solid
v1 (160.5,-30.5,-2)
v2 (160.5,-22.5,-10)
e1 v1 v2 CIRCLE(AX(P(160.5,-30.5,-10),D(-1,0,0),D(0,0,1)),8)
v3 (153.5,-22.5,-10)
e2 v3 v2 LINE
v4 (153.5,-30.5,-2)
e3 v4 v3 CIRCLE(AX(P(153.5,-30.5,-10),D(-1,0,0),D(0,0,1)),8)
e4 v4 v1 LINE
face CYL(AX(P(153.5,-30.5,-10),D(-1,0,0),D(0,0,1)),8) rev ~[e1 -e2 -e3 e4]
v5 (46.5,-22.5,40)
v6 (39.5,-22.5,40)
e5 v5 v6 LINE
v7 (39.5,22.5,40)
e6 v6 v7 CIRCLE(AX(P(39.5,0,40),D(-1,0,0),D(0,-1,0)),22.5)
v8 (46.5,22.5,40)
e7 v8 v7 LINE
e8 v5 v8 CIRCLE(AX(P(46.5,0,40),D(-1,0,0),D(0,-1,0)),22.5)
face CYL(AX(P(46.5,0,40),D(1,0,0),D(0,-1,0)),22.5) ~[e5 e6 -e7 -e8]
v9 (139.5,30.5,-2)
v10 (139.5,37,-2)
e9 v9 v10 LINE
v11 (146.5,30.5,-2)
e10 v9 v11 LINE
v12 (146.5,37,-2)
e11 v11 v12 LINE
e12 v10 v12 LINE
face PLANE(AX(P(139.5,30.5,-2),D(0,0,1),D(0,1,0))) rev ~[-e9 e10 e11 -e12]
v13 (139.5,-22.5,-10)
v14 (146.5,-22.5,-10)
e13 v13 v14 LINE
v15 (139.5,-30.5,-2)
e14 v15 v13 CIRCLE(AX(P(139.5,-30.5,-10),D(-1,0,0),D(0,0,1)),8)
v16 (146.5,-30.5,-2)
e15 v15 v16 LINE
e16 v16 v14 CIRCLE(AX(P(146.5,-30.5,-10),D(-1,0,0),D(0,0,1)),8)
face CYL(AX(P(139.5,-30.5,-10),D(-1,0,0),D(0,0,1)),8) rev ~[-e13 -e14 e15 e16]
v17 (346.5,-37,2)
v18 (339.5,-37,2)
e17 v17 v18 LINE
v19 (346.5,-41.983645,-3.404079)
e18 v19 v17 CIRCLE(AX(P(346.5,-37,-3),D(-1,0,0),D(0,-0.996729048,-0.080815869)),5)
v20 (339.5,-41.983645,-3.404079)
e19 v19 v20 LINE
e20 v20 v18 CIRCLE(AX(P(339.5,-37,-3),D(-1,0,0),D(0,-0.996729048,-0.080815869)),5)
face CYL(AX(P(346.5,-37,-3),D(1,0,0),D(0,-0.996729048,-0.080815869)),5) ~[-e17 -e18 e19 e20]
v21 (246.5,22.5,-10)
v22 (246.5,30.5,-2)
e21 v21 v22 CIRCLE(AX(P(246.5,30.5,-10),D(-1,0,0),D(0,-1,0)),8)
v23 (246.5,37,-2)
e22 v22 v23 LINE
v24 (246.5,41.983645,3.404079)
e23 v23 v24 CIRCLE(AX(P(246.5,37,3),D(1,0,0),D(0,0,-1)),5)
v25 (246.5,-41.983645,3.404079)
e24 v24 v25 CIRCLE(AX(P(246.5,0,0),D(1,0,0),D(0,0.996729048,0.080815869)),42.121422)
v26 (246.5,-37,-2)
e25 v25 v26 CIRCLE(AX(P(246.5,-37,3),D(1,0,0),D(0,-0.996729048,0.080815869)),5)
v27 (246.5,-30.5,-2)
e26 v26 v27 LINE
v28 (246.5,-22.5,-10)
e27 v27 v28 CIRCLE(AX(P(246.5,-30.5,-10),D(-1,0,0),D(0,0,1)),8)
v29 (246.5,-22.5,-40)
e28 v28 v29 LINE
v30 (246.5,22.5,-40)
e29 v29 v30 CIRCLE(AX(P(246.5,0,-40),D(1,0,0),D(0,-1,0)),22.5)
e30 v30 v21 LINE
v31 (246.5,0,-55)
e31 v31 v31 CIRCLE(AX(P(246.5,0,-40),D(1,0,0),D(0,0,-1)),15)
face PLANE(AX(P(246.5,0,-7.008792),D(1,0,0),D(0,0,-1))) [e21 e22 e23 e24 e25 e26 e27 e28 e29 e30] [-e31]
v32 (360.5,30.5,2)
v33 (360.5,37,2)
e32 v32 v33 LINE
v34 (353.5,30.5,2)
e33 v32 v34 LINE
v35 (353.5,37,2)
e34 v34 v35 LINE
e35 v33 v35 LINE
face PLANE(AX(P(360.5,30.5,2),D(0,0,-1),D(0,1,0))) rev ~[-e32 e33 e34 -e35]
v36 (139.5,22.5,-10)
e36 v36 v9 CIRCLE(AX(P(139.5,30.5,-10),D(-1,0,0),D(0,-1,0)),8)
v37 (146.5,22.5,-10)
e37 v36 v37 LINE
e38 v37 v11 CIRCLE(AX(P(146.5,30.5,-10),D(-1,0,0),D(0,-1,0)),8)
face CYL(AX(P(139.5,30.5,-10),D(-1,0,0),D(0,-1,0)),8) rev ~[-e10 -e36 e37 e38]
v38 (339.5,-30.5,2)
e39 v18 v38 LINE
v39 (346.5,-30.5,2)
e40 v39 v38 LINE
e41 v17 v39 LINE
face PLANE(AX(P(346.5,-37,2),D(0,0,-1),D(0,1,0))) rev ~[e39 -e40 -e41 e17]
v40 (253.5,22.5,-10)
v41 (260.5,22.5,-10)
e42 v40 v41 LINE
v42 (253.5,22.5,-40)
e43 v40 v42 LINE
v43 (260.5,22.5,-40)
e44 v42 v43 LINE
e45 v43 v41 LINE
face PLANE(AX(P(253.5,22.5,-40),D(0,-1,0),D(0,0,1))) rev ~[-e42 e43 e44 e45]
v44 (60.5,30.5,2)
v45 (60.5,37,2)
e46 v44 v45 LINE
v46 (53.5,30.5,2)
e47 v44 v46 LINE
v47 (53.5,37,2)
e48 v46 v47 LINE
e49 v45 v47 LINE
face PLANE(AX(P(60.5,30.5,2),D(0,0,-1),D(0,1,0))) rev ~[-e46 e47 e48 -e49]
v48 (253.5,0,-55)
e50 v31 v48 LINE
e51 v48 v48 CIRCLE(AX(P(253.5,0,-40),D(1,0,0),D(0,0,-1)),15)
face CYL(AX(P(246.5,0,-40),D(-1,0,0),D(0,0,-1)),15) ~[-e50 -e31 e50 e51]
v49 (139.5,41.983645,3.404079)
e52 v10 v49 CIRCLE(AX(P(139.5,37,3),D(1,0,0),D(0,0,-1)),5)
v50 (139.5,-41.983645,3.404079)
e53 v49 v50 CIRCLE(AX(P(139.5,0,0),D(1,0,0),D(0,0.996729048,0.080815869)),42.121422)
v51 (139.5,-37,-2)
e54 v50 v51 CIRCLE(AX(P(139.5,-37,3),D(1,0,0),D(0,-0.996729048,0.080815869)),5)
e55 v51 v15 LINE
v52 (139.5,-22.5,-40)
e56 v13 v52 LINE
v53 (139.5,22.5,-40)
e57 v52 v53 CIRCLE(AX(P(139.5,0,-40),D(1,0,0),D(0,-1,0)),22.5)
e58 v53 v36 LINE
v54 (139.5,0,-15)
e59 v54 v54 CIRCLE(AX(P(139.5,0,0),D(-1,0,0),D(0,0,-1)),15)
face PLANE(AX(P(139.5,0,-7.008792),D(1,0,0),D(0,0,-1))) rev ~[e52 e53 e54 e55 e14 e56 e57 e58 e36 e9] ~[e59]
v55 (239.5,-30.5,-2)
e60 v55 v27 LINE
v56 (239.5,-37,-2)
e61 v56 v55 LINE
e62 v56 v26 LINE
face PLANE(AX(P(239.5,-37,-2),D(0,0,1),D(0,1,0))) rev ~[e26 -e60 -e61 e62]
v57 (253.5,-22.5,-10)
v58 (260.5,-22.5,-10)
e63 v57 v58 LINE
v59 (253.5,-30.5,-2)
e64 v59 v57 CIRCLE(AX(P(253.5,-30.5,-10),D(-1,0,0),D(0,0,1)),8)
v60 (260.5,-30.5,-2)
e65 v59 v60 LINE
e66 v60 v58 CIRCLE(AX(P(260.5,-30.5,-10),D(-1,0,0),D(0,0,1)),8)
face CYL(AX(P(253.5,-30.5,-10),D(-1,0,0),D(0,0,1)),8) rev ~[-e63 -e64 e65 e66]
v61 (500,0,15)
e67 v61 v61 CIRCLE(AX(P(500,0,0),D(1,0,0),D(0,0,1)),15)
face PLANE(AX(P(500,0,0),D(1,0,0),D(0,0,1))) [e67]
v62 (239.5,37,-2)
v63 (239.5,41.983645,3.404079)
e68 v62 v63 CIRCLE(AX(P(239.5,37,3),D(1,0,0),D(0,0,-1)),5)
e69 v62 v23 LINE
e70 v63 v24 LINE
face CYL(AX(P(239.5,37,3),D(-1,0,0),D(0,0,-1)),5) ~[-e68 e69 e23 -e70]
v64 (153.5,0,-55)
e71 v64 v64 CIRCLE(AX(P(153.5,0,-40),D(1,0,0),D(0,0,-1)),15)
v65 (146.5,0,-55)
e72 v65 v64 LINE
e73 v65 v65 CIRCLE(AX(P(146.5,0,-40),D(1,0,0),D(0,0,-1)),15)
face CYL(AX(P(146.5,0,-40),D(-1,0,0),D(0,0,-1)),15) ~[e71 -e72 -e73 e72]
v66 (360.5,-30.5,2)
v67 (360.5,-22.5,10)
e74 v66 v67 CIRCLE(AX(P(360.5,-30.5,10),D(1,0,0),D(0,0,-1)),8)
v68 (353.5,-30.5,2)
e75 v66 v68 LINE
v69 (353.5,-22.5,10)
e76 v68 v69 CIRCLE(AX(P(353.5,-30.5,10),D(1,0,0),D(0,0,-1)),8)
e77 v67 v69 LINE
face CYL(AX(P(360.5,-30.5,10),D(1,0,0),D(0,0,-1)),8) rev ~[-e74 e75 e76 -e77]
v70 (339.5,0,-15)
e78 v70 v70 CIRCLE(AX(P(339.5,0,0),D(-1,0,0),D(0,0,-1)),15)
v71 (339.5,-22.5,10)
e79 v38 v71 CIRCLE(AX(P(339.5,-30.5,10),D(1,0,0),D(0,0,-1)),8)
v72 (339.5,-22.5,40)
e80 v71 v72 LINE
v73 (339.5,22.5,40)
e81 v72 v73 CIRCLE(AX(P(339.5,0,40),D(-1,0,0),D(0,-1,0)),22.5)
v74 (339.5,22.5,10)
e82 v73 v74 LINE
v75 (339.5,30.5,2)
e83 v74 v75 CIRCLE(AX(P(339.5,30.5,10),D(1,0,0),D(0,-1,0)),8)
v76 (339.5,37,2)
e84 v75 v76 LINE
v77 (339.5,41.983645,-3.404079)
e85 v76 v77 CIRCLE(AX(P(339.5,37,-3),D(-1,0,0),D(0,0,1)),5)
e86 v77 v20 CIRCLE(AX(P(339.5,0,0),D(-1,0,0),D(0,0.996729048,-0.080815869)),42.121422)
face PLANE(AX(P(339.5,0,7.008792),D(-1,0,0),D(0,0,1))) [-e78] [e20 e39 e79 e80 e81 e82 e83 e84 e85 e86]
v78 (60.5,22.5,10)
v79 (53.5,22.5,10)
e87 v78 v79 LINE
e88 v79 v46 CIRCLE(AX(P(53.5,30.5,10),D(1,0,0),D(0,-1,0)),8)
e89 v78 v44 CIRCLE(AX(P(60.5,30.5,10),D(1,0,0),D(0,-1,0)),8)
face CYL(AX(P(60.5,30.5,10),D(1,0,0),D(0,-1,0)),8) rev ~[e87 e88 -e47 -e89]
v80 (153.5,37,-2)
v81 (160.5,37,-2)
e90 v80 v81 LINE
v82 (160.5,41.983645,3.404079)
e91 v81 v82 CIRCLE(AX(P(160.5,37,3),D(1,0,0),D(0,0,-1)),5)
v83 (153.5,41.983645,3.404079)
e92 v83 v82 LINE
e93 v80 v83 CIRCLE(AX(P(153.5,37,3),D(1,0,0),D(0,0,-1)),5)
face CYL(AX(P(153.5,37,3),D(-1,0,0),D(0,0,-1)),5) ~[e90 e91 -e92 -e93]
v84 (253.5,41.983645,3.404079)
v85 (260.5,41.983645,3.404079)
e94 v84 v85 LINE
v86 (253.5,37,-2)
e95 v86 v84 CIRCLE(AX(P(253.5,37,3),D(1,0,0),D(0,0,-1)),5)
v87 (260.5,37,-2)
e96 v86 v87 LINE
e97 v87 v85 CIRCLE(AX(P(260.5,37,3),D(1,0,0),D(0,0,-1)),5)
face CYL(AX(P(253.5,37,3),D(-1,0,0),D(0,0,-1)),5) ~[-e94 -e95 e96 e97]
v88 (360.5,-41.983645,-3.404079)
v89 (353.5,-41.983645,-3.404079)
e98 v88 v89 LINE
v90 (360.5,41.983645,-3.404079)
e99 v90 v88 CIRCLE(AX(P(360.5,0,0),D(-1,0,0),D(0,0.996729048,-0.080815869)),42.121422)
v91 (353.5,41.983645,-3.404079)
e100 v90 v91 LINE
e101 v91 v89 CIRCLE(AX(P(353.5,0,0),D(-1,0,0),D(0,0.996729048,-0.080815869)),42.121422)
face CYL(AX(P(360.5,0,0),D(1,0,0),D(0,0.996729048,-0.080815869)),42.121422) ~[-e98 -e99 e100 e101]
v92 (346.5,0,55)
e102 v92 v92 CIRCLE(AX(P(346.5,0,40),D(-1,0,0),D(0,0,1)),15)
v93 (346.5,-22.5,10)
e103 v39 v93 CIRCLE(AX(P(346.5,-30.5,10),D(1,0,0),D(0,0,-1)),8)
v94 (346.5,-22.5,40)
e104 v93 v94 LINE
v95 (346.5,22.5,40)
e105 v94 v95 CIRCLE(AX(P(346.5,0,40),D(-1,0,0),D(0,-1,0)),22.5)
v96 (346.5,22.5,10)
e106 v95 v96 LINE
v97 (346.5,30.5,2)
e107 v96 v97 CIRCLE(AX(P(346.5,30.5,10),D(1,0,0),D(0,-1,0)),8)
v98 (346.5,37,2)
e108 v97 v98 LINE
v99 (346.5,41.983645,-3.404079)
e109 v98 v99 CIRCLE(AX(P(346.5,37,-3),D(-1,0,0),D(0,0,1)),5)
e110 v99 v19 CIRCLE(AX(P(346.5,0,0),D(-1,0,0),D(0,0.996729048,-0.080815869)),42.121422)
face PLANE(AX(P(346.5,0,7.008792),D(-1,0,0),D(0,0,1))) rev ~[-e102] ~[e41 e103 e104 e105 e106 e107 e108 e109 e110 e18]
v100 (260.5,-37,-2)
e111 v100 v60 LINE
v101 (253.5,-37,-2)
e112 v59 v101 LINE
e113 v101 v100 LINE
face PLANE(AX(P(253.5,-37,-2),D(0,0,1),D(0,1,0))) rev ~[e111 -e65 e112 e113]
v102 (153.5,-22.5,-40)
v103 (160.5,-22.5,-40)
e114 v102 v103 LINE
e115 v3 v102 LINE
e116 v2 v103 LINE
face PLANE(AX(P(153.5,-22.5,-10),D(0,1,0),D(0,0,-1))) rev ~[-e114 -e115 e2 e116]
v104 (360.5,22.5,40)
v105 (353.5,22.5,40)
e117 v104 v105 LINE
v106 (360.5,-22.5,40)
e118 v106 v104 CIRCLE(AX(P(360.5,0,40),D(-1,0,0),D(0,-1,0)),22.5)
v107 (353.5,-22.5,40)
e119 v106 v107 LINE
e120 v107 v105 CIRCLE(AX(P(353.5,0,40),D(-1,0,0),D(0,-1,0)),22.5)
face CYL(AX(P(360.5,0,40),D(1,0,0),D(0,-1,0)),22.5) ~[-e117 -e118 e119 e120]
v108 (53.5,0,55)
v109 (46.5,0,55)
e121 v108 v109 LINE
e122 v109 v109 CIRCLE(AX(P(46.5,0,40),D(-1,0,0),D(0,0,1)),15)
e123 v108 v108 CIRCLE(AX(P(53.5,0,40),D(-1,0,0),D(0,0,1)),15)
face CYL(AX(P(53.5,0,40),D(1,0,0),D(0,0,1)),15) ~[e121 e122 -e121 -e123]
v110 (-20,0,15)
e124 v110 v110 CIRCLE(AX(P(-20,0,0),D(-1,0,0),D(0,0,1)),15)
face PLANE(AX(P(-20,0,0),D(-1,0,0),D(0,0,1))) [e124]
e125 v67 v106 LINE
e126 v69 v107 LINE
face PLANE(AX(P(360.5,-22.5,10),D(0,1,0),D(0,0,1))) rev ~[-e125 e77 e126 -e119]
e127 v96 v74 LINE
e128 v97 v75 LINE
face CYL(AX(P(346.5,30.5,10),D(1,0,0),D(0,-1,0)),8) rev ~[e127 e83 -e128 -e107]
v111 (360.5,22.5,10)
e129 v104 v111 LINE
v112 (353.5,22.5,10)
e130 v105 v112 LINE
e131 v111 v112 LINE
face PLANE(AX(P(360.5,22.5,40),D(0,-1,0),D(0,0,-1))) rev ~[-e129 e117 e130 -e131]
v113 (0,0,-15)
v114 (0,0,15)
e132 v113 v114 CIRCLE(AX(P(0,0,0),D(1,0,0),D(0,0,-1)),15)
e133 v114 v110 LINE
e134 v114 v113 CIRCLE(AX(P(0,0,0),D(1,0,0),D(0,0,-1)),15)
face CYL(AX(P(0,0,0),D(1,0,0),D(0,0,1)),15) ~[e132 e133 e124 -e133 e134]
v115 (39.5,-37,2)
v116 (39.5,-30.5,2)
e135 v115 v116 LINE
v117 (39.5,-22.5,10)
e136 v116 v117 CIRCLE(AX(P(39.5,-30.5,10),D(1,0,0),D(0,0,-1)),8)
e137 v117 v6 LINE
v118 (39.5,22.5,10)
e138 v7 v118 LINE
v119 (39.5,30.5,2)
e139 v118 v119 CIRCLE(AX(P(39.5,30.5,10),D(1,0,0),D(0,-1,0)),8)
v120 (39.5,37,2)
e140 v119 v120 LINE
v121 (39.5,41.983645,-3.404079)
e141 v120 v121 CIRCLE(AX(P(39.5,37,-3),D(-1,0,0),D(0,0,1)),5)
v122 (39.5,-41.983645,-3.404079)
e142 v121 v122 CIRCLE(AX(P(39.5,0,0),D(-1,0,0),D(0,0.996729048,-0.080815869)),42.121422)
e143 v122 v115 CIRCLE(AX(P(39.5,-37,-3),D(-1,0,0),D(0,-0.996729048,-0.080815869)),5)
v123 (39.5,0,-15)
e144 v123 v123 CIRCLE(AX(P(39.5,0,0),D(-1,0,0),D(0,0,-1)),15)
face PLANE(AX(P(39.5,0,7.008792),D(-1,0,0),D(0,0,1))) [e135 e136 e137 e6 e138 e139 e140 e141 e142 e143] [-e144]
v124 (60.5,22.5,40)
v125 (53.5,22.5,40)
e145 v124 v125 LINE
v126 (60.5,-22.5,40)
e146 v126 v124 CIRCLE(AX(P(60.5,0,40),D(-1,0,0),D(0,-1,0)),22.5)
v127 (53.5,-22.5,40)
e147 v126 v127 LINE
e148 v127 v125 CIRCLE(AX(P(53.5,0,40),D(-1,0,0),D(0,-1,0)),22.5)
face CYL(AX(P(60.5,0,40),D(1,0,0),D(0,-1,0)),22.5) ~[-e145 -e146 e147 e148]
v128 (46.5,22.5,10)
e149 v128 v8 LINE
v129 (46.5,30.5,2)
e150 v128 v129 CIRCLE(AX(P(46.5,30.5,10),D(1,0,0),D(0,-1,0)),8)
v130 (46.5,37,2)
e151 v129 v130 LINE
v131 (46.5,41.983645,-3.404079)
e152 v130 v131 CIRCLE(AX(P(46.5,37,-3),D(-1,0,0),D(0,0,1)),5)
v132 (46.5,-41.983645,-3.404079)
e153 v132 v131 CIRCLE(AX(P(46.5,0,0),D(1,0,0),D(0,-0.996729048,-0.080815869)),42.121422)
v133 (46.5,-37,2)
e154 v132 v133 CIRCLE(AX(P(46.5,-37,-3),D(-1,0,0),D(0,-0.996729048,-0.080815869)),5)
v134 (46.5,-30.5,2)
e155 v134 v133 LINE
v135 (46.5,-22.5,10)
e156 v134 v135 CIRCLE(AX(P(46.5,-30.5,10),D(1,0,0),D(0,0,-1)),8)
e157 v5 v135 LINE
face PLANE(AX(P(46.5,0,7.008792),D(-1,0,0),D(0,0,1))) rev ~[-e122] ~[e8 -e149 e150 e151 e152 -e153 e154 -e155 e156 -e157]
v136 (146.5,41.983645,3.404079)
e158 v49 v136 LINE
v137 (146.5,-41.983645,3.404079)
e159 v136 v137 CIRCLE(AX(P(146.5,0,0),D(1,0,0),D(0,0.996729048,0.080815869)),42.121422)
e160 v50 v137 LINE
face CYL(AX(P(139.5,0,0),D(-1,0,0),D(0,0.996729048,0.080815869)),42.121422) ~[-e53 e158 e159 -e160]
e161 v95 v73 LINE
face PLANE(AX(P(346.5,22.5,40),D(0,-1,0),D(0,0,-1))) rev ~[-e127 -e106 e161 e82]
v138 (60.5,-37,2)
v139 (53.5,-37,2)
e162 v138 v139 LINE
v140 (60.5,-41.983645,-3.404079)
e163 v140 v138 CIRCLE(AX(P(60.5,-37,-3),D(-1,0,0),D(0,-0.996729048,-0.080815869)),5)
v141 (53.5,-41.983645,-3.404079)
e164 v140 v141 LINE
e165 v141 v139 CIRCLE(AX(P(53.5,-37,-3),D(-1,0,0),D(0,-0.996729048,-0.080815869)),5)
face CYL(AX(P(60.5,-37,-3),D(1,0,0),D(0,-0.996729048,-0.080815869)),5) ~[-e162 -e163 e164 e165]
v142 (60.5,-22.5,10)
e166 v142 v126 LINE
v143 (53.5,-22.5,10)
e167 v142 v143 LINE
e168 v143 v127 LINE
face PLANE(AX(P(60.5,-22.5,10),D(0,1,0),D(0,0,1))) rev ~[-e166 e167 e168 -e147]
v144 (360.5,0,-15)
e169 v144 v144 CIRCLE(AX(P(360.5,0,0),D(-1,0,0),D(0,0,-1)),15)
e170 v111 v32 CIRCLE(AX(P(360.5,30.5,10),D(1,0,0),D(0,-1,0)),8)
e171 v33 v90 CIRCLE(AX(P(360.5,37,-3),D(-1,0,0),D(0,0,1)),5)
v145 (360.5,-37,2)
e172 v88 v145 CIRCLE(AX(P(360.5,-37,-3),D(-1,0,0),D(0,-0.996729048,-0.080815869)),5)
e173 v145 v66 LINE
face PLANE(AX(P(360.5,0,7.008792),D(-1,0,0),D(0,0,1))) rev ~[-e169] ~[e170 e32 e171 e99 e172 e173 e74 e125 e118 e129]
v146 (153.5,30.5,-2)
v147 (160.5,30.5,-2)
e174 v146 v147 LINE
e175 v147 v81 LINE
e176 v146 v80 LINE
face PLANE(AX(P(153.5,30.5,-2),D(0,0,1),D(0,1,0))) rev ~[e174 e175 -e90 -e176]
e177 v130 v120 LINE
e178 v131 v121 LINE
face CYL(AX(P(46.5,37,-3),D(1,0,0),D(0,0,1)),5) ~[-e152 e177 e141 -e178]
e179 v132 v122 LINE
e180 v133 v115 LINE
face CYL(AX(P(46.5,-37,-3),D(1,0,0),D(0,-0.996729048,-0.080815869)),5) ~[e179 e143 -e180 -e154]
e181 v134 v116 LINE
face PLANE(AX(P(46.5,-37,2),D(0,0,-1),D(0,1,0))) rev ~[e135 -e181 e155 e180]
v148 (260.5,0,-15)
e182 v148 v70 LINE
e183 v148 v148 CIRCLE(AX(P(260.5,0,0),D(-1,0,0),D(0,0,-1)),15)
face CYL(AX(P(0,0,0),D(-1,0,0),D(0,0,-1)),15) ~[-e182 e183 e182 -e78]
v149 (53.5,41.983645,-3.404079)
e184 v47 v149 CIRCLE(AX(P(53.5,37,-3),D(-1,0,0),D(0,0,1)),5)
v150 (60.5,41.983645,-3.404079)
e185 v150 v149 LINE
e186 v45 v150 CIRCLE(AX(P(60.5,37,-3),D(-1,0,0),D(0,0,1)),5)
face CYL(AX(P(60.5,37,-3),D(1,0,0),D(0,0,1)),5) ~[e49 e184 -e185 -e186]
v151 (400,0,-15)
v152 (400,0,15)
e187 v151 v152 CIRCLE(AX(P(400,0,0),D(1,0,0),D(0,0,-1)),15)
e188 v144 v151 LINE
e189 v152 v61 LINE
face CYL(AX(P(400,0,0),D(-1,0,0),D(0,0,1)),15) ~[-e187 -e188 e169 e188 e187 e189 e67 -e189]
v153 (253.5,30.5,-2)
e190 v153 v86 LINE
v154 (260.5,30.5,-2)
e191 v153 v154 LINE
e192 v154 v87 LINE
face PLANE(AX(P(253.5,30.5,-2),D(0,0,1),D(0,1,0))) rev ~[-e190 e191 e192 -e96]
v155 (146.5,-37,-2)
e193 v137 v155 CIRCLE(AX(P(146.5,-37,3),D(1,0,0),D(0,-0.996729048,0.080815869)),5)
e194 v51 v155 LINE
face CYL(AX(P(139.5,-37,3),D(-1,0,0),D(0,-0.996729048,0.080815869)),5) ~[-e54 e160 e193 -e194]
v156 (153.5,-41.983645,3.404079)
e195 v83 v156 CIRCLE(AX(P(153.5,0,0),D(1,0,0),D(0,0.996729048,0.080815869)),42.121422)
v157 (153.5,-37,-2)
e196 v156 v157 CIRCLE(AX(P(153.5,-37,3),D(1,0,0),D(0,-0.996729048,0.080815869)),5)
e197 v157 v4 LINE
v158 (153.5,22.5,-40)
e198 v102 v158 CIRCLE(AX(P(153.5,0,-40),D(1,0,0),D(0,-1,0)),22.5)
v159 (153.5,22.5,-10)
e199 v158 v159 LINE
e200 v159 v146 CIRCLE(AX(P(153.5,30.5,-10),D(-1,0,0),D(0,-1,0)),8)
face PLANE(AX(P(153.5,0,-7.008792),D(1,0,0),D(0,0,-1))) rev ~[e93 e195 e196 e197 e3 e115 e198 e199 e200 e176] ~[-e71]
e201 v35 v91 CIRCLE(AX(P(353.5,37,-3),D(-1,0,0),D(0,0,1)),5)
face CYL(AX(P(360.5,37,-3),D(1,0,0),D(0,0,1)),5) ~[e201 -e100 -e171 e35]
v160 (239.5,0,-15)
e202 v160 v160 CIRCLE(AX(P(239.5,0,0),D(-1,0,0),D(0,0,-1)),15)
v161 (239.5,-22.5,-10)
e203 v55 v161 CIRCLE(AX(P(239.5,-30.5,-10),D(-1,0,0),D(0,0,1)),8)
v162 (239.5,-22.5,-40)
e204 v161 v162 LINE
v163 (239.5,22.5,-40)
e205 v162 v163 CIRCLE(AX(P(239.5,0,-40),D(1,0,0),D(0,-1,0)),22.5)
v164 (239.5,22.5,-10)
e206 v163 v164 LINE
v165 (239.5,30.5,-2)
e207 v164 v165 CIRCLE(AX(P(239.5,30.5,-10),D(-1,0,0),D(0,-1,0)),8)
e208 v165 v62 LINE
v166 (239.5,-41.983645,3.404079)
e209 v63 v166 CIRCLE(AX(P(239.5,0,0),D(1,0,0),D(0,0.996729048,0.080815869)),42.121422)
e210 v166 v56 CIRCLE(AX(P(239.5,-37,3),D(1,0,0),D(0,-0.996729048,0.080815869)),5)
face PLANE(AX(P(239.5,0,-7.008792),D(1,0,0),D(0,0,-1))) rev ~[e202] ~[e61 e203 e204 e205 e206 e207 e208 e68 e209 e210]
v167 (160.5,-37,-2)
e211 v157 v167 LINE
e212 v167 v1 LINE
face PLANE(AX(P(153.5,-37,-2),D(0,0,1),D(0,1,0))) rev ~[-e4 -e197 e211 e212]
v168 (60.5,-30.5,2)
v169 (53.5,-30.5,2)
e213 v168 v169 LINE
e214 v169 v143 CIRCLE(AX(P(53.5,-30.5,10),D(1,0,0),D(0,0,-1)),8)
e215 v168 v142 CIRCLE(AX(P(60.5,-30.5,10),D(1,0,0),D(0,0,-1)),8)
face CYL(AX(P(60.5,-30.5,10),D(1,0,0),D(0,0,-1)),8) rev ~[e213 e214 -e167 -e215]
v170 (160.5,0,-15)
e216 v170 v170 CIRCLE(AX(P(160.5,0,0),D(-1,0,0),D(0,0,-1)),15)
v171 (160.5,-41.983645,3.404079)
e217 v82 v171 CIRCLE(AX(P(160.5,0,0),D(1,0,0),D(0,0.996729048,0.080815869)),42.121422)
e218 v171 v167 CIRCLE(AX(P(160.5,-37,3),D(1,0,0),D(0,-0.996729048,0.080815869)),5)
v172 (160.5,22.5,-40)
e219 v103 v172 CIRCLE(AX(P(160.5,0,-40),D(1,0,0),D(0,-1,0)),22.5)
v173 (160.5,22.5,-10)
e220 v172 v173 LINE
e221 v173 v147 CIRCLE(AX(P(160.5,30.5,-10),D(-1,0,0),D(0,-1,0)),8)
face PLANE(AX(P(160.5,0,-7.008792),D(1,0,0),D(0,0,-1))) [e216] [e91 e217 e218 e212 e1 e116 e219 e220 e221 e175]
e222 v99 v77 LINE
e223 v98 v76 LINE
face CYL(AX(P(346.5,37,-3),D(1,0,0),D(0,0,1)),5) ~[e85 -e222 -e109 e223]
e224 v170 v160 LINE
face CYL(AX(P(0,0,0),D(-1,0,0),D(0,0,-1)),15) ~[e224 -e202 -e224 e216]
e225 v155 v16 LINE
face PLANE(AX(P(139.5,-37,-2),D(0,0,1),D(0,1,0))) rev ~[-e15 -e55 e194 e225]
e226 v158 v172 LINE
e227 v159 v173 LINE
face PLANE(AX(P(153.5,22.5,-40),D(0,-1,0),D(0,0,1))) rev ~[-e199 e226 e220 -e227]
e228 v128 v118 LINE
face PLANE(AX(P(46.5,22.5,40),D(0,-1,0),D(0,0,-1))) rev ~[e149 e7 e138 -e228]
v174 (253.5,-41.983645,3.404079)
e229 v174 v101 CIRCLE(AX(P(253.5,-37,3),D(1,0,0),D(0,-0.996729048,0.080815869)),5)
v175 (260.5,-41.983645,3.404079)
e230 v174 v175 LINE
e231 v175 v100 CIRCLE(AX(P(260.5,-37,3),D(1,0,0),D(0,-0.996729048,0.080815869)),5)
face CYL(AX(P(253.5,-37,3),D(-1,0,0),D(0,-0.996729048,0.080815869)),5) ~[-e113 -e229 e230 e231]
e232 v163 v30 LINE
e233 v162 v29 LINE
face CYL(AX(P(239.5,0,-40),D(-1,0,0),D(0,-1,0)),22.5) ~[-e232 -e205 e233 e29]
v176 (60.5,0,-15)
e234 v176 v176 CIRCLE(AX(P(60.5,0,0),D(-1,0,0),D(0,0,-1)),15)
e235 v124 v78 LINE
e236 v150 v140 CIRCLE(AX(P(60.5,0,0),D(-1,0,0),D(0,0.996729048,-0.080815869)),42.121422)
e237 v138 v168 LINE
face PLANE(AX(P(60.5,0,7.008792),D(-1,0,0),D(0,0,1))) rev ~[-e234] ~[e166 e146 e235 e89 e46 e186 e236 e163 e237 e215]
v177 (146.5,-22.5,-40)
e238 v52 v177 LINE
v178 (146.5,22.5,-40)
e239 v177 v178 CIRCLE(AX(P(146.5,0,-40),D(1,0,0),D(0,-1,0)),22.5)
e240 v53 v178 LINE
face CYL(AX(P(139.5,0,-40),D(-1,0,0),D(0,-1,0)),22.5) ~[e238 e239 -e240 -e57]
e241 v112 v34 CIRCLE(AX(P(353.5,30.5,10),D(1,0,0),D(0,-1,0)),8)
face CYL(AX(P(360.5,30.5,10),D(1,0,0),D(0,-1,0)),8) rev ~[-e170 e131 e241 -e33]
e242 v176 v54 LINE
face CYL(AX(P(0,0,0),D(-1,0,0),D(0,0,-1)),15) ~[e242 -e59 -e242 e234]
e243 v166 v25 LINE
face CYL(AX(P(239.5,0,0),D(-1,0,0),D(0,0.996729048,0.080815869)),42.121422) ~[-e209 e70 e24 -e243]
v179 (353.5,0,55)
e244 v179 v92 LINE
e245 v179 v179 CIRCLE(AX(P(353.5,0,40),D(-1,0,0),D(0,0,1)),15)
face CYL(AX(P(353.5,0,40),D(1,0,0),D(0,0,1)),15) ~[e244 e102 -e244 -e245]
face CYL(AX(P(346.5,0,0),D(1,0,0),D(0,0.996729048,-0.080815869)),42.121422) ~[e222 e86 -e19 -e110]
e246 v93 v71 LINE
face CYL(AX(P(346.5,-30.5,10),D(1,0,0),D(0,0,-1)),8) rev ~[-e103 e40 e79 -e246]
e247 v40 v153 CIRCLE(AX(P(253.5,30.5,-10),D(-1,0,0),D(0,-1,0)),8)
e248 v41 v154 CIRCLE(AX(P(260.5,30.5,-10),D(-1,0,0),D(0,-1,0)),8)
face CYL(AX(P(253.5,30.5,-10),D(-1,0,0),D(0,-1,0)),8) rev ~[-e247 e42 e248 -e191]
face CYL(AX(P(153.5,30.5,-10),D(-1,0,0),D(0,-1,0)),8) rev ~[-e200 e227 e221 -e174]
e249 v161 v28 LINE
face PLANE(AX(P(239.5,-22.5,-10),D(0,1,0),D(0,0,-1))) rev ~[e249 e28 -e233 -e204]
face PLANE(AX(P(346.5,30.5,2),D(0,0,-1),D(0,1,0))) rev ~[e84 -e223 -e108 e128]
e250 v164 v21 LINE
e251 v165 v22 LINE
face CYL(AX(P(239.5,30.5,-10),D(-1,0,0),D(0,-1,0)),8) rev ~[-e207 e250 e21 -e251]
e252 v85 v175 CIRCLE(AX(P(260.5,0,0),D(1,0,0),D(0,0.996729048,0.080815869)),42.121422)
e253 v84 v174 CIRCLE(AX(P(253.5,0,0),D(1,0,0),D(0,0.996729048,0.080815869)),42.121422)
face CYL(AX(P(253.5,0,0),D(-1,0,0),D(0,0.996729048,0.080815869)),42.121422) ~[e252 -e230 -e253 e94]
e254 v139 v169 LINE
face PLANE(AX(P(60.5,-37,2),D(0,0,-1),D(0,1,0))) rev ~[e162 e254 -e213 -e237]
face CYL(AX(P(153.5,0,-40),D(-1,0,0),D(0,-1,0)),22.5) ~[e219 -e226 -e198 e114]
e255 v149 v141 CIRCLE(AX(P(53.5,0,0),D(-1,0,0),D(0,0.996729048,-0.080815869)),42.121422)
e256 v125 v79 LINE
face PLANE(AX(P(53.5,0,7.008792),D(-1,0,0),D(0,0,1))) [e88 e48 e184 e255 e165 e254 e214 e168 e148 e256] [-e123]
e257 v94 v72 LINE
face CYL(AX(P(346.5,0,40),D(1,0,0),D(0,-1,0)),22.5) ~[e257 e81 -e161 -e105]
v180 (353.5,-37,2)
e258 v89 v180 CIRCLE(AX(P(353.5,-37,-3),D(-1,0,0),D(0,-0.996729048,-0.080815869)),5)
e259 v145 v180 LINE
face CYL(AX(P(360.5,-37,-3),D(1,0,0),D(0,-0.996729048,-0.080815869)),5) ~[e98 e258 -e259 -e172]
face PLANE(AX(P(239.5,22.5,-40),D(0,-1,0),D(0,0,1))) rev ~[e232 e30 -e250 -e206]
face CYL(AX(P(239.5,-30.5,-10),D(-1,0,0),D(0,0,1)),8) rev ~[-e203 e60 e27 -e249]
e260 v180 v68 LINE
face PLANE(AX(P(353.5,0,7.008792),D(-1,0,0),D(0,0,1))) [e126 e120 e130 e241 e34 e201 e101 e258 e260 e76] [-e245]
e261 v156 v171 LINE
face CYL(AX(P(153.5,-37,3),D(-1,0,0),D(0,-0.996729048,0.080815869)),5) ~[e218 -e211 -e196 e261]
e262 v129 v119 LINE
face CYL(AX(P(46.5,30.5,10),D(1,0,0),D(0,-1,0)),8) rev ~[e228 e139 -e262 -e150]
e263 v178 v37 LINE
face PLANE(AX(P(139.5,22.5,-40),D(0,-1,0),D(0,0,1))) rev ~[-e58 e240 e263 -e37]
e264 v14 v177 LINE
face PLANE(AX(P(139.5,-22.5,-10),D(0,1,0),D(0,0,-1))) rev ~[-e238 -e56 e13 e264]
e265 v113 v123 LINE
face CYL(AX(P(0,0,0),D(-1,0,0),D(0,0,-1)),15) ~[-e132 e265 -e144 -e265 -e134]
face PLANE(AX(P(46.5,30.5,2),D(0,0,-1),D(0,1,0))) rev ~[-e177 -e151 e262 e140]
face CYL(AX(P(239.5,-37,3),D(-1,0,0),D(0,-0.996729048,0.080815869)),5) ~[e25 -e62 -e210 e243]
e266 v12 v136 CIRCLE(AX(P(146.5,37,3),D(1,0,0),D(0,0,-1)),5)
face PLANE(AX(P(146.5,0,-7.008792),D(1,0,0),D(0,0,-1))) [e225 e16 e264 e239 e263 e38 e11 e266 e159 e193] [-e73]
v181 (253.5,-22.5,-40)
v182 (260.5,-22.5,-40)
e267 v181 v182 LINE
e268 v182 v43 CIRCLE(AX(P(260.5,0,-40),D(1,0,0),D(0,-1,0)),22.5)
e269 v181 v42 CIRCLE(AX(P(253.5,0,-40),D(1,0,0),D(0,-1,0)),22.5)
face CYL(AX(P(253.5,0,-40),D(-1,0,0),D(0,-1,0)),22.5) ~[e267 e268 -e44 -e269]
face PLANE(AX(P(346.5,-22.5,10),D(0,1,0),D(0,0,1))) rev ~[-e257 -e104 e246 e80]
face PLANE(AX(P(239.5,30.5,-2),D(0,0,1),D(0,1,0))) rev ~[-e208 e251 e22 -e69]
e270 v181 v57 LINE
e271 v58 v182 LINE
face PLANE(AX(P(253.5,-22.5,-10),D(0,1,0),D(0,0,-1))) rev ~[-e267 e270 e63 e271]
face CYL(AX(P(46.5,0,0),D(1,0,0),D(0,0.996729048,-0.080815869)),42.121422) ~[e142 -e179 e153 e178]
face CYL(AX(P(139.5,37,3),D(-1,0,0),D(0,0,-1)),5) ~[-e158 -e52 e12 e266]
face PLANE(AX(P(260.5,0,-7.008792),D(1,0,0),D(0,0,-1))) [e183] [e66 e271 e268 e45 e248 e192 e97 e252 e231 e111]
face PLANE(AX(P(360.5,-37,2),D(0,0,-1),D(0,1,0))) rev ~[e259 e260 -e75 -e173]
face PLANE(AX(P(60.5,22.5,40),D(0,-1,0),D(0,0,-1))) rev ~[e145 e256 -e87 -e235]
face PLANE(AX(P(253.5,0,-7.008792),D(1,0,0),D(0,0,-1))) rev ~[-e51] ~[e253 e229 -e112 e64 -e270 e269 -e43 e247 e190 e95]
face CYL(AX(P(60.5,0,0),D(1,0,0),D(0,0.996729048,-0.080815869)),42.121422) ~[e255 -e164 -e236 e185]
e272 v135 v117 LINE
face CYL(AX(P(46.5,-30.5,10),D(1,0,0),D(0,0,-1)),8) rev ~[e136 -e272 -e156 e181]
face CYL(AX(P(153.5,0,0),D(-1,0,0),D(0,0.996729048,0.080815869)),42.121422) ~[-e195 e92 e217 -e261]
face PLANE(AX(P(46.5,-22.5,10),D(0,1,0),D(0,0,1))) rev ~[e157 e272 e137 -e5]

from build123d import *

# Parameters (mm, degrees)
SKETCH1_R               = 15
BOSS_EXTRUDE1_DEPTH     = 400
BOSS_EXTRUDE2_START     = 53.5
BOSS_EXTRUDE2_DEPTH     = 7
BOSS_EXTRUDE3_START     = 39.5
BOSS_EXTRUDE3_DEPTH     = 7
BOSS_EXTRUDE4_START     = 339.5
BOSS_EXTRUDE4_DEPTH     = 7
BOSS_EXTRUDE5_START     = 353.5
BOSS_EXTRUDE5_DEPTH     = 7
CUT_EXTRUDE1_DEPTH      = 60
CUT_EXTRUDE1_DEPTH_BACK = 31
SKETCH5_W               = 7
SKETCH5_H               = 34.934316099
SKETCH5_H_2             = 32.180943616
BOSS_EXTRUDE6_START     = 46.5
SKETCH2_8_R             = 15
BOSS_EXTRUDE6_DEPTH     = 7
BOSS_EXTRUDE7_START     = 346.5
SKETCH2_9_R             = 15
BOSS_EXTRUDE7_DEPTH     = 7
BOSS_EXTRUDE8_START     = 139.5
BOSS_EXTRUDE8_DEPTH     = 7
BOSS_EXTRUDE9_START     = 153.5
BOSS_EXTRUDE9_DEPTH     = 7
BOSS_EXTRUDE10_START    = 239.5
BOSS_EXTRUDE10_DEPTH    = 7
BOSS_EXTRUDE11_START    = 253.5
BOSS_EXTRUDE11_DEPTH    = 7
CUT_EXTRUDE3_DEPTH      = 33
CUT_EXTRUDE3_DEPTH_BACK = 33
SKETCH8_W               = 7
SKETCH8_H               = 30
BOSS_EXTRUDE12_START    = 146.5
SKETCH6_6_R             = 15
BOSS_EXTRUDE12_DEPTH    = 7
BOSS_EXTRUDE13_START    = 246.5
SKETCH6_7_R             = 15
BOSS_EXTRUDE13_DEPTH    = 7
SKETCH9_R               = 15
BOSS_EXTRUDE14_DEPTH    = 100
SKETCH10_R              = 15
BOSS_EXTRUDE15_DEPTH    = 20


with BuildPart() as part:
    # Sketch1 → Boss-Extrude1 (new body)
    with BuildSketch(Plane(origin=(0, 0, 0), x_dir=(0, 0, -1), z_dir=(1, 0, 0))):
        Circle(SKETCH1_R)
    extrude(amount=BOSS_EXTRUDE1_DEPTH)

    # Sketch2 → Boss-Extrude2 (add)
    with BuildSketch(Plane.ZY.offset(-400).offset(BOSS_EXTRUDE2_START)):
        with BuildLine():
            Line((2, 30.5), (2, 37))
            ThreePointArc((2, 37), (0.389660992, 40.675622173), (-3.404079344, 41.983645241))
            ThreePointArc((-3.404079344, 41.983645241), (-42.121422387, 0), (-3.404079344, -41.983645241))
            ThreePointArc((-3.404079344, -41.983645241), (0.389660992, -40.675622173), (2, -37))
            Line((2, -37), (2, -30.5))
            ThreePointArc((2, -30.5), (4.343145751, -24.843145751), (10, -22.5))
            Line((10, -22.5), (40, -22.5))
            ThreePointArc((40, -22.5), (62.5, 0), (40, 22.5))
            Line((40, 22.5), (10, 22.5))
            ThreePointArc((10, 22.5), (4.343145751, 24.843145751), (2, 30.5))
        make_face()
    extrude(amount=BOSS_EXTRUDE2_DEPTH)

    # Sketch2<3> → Boss-Extrude3 (add)
    with BuildSketch(Plane.ZY.offset(-400).offset(BOSS_EXTRUDE3_START)):
        with BuildLine():
            Line((2, 30.5), (2, 37))
            ThreePointArc((2, 37), (0.389660992, 40.675622173), (-3.404079344, 41.983645241))
            ThreePointArc((-3.404079344, 41.983645241), (-42.121422387, 0), (-3.404079344, -41.983645241))
            ThreePointArc((-3.404079344, -41.983645241), (0.389660992, -40.675622173), (2, -37))
            Line((2, -37), (2, -30.5))
            ThreePointArc((2, -30.5), (4.343145751, -24.843145751), (10, -22.5))
            Line((10, -22.5), (40, -22.5))
            ThreePointArc((40, -22.5), (62.5, 0), (40, 22.5))
            Line((40, 22.5), (10, 22.5))
            ThreePointArc((10, 22.5), (4.343145751, 24.843145751), (2, 30.5))
        make_face()
    extrude(amount=BOSS_EXTRUDE3_DEPTH)

    # Sketch2<5> → Boss-Extrude4 (add)
    with BuildSketch(Plane.ZY.offset(-400).offset(BOSS_EXTRUDE4_START)):
        with BuildLine():
            Line((2, 30.5), (2, 37))
            ThreePointArc((2, 37), (0.389660992, 40.675622173), (-3.404079344, 41.983645241))
            ThreePointArc((-3.404079344, 41.983645241), (-42.121422387, 0), (-3.404079344, -41.983645241))
            ThreePointArc((-3.404079344, -41.983645241), (0.389660992, -40.675622173), (2, -37))
            Line((2, -37), (2, -30.5))
            ThreePointArc((2, -30.5), (4.343145751, -24.843145751), (10, -22.5))
            Line((10, -22.5), (40, -22.5))
            ThreePointArc((40, -22.5), (62.5, 0), (40, 22.5))
            Line((40, 22.5), (10, 22.5))
            ThreePointArc((10, 22.5), (4.343145751, 24.843145751), (2, 30.5))
        make_face()
    extrude(amount=BOSS_EXTRUDE4_DEPTH)

    # Sketch2<6> → Boss-Extrude5 (add)
    with BuildSketch(Plane.ZY.offset(-400).offset(BOSS_EXTRUDE5_START)):
        with BuildLine():
            Line((2, 30.5), (2, 37))
            ThreePointArc((2, 37), (0.389660992, 40.675622173), (-3.404079344, 41.983645241))
            ThreePointArc((-3.404079344, 41.983645241), (-42.121422387, 0), (-3.404079344, -41.983645241))
            ThreePointArc((-3.404079344, -41.983645241), (0.389660992, -40.675622173), (2, -37))
            Line((2, -37), (2, -30.5))
            ThreePointArc((2, -30.5), (4.343145751, -24.843145751), (10, -22.5))
            Line((10, -22.5), (40, -22.5))
            ThreePointArc((40, -22.5), (62.5, 0), (40, 22.5))
            Line((40, 22.5), (10, 22.5))
            ThreePointArc((10, 22.5), (4.343145751, 24.843145751), (2, 30.5))
        make_face()
    extrude(amount=BOSS_EXTRUDE5_DEPTH)

    # Sketch5 → Cut-Extrude1 (cut, two sides: drawn at the far end of the back side and taken through both)
    with BuildSketch(Plane(origin=(0, 0, 0), x_dir=(1, 0, 0), z_dir=(0, 1, 0)).offset(-CUT_EXTRUDE1_DEPTH_BACK)):
        with Locations((350, 2.467158049)):
            Rectangle(SKETCH5_W, SKETCH5_H)
        with Locations((50, 1.090471808)):
            Rectangle(SKETCH5_W, SKETCH5_H_2)
    extrude(amount=CUT_EXTRUDE1_DEPTH + CUT_EXTRUDE1_DEPTH_BACK, mode=Mode.SUBTRACT)


with BuildPart() as cut_extrude1_piece_1:
    # of the separate pieces the step leaves, piece 1, a body of its own (cut_extrude1_pieces)
    add(part.part.solids().sort_by_distance((53.5, 41.983645241, -3.404079344))[0])



with BuildPart() as cut_extrude1_piece_2:
    # of the separate pieces the step leaves, piece 2, a body of its own (cut_extrude1_pieces)
    add(part.part.solids().sort_by_distance((0, 0, -15))[0])


with BuildPart() as cut_extrude1_piece_3:
    # of the separate pieces the step leaves, piece 3, a body of its own (cut_extrude1_pieces)
    add(part.part.solids().sort_by_distance((353.5, 41.983645241, -3.404079344))[0])


with BuildPart() as cut_extrude1_piece_1_1:
    add(cut_extrude1_piece_1.part)

    add(cut_extrude1_piece_3.part)  # Boss-Extrude6 merges Cut-Extrude1 piece 3
    # Sketch2<8> → Boss-Extrude6 (add)
    with BuildSketch(Plane.ZY.offset(-400).offset(BOSS_EXTRUDE6_START)):
        with Locations((40, 0)):
            Circle(SKETCH2_8_R)
    extrude(amount=BOSS_EXTRUDE6_DEPTH)


    add(cut_extrude1_piece_2.part)  # Boss-Extrude7 merges Cut-Extrude1 piece 2
    # Sketch2<9> → Boss-Extrude7 (add)
    with BuildSketch(Plane.ZY.offset(-400).offset(BOSS_EXTRUDE7_START)):
        with Locations((40, 0)):
            Circle(SKETCH2_9_R)
    extrude(amount=BOSS_EXTRUDE7_DEPTH)

    # Sketch6 → Boss-Extrude8 (add)
    with BuildSketch(Plane(origin=(0, 0, 0), x_dir=(0, 0, -1), z_dir=(1, 0, 0)).offset(BOSS_EXTRUDE8_START)):
        with BuildLine():
            Line((2, 30.5), (2, 37))
            ThreePointArc((2, 37), (0.389660992, 40.675622173), (-3.404079344, 41.983645241))
            ThreePointArc((-3.404079344, 41.983645241), (-42.121422387, 0), (-3.404079344, -41.983645241))
            ThreePointArc((-3.404079344, -41.983645241), (0.389660992, -40.675622173), (2, -37))
            Line((2, -37), (2, -30.5))
            ThreePointArc((2, -30.5), (4.343145751, -24.843145751), (10, -22.5))
            Line((10, -22.5), (40, -22.5))
            ThreePointArc((40, -22.5), (62.5, 0), (40, 22.5))
            Line((40, 22.5), (10, 22.5))
            ThreePointArc((10, 22.5), (4.343145751, 24.843145751), (2, 30.5))
        make_face()
    extrude(amount=BOSS_EXTRUDE8_DEPTH)

    # Sketch6<3> → Boss-Extrude9 (add)
    with BuildSketch(Plane(origin=(0, 0, 0), x_dir=(0, 0, -1), z_dir=(1, 0, 0)).offset(BOSS_EXTRUDE9_START)):
        with BuildLine():
            Line((2, 30.5), (2, 37))
            ThreePointArc((2, 37), (0.389660992, 40.675622173), (-3.404079344, 41.983645241))
            ThreePointArc((-3.404079344, 41.983645241), (-42.121422387, 0), (-3.404079344, -41.983645241))
            ThreePointArc((-3.404079344, -41.983645241), (0.389660992, -40.675622173), (2, -37))
            Line((2, -37), (2, -30.5))
            ThreePointArc((2, -30.5), (4.343145751, -24.843145751), (10, -22.5))
            Line((10, -22.5), (40, -22.5))
            ThreePointArc((40, -22.5), (62.5, 0), (40, 22.5))
            Line((40, 22.5), (10, 22.5))
            ThreePointArc((10, 22.5), (4.343145751, 24.843145751), (2, 30.5))
        make_face()
    extrude(amount=BOSS_EXTRUDE9_DEPTH)

    # Sketch6<4> → Boss-Extrude10 (add)
    with BuildSketch(Plane(origin=(0, 0, 0), x_dir=(0, 0, -1), z_dir=(1, 0, 0)).offset(BOSS_EXTRUDE10_START)):
        with BuildLine():
            Line((2, 30.5), (2, 37))
            ThreePointArc((2, 37), (0.389660992, 40.675622173), (-3.404079344, 41.983645241))
            ThreePointArc((-3.404079344, 41.983645241), (-42.121422387, 0), (-3.404079344, -41.983645241))
            ThreePointArc((-3.404079344, -41.983645241), (0.389660992, -40.675622173), (2, -37))
            Line((2, -37), (2, -30.5))
            ThreePointArc((2, -30.5), (4.343145751, -24.843145751), (10, -22.5))
            Line((10, -22.5), (40, -22.5))
            ThreePointArc((40, -22.5), (62.5, 0), (40, 22.5))
            Line((40, 22.5), (10, 22.5))
            ThreePointArc((10, 22.5), (4.343145751, 24.843145751), (2, 30.5))
        make_face()
    extrude(amount=BOSS_EXTRUDE10_DEPTH)

    # Sketch6<5> → Boss-Extrude11 (add)
    with BuildSketch(Plane(origin=(0, 0, 0), x_dir=(0, 0, -1), z_dir=(1, 0, 0)).offset(BOSS_EXTRUDE11_START)):
        with BuildLine():
            Line((2, 30.5), (2, 37))
            ThreePointArc((2, 37), (0.389660992, 40.675622173), (-3.404079344, 41.983645241))
            ThreePointArc((-3.404079344, 41.983645241), (-42.121422387, 0), (-3.404079344, -41.983645241))
            ThreePointArc((-3.404079344, -41.983645241), (0.389660992, -40.675622173), (2, -37))
            Line((2, -37), (2, -30.5))
            ThreePointArc((2, -30.5), (4.343145751, -24.843145751), (10, -22.5))
            Line((10, -22.5), (40, -22.5))
            ThreePointArc((40, -22.5), (62.5, 0), (40, 22.5))
            Line((40, 22.5), (10, 22.5))
            ThreePointArc((10, 22.5), (4.343145751, 24.843145751), (2, 30.5))
        make_face()
    extrude(amount=BOSS_EXTRUDE11_DEPTH)

    # Sketch8 → Cut-Extrude3 (cut, two sides: drawn at the far end of the back side and taken through both)
    with BuildSketch(Plane(origin=(0, 0, 0), x_dir=(1, 0, 0), z_dir=(0, 1, 0)).offset(-CUT_EXTRUDE3_DEPTH_BACK)):
        with Locations((150, 0)):
            Rectangle(SKETCH8_W, SKETCH8_H)
        with Locations((250, 0)):
            Rectangle(SKETCH8_W, SKETCH8_H)
    extrude(amount=CUT_EXTRUDE3_DEPTH + CUT_EXTRUDE3_DEPTH_BACK, mode=Mode.SUBTRACT)


with BuildPart() as cut_extrude3_piece_1:
    # of the separate pieces the step leaves, piece 1, a body of its own (cut_extrude3_pieces)
    add(cut_extrude1_piece_1_1.part.solids().sort_by_distance((0, 0, -15))[0])



with BuildPart() as cut_extrude3_piece_2:
    # of the separate pieces the step leaves, piece 2, a body of its own (cut_extrude3_pieces)
    add(cut_extrude1_piece_1_1.part.solids().sort_by_distance((253.5, 22.5, -10))[0])


with BuildPart() as cut_extrude3_piece_3:
    # of the separate pieces the step leaves, piece 3, a body of its own (cut_extrude3_pieces)
    add(cut_extrude1_piece_1_1.part.solids().sort_by_distance((153.5, 22.5, -10))[0])


with BuildPart() as cut_extrude3_piece_1_1:
    add(cut_extrude3_piece_1.part)

    add(cut_extrude3_piece_3.part)  # Boss-Extrude12 merges Cut-Extrude3 piece 3
    # Sketch6<6> → Boss-Extrude12 (add)
    with BuildSketch(Plane(origin=(0, 0, 0), x_dir=(0, 0, -1), z_dir=(1, 0, 0)).offset(BOSS_EXTRUDE12_START)):
        with Locations((40, 0)):
            Circle(SKETCH6_6_R)
    extrude(amount=BOSS_EXTRUDE12_DEPTH)


    add(cut_extrude3_piece_2.part)  # Boss-Extrude13 merges Cut-Extrude3 piece 2
    # Sketch6<7> → Boss-Extrude13 (add)
    with BuildSketch(Plane(origin=(0, 0, 0), x_dir=(0, 0, -1), z_dir=(1, 0, 0)).offset(BOSS_EXTRUDE13_START)):
        with Locations((40, 0)):
            Circle(SKETCH6_7_R)
    extrude(amount=BOSS_EXTRUDE13_DEPTH)

    # Sketch9 → Boss-Extrude14 (add)
    with BuildSketch(Plane(origin=(400, 0, 0), x_dir=(0, 0, -1), z_dir=(1, 0, 0))):
        Circle(SKETCH9_R)
    extrude(amount=BOSS_EXTRUDE14_DEPTH)

    # Sketch10 → Boss-Extrude15 (add)
    with BuildSketch(Plane.ZY):
        Circle(SKETCH10_R)
    extrude(amount=BOSS_EXTRUDE15_DEPTH)


solid = cut_extrude3_piece_1_1.part
